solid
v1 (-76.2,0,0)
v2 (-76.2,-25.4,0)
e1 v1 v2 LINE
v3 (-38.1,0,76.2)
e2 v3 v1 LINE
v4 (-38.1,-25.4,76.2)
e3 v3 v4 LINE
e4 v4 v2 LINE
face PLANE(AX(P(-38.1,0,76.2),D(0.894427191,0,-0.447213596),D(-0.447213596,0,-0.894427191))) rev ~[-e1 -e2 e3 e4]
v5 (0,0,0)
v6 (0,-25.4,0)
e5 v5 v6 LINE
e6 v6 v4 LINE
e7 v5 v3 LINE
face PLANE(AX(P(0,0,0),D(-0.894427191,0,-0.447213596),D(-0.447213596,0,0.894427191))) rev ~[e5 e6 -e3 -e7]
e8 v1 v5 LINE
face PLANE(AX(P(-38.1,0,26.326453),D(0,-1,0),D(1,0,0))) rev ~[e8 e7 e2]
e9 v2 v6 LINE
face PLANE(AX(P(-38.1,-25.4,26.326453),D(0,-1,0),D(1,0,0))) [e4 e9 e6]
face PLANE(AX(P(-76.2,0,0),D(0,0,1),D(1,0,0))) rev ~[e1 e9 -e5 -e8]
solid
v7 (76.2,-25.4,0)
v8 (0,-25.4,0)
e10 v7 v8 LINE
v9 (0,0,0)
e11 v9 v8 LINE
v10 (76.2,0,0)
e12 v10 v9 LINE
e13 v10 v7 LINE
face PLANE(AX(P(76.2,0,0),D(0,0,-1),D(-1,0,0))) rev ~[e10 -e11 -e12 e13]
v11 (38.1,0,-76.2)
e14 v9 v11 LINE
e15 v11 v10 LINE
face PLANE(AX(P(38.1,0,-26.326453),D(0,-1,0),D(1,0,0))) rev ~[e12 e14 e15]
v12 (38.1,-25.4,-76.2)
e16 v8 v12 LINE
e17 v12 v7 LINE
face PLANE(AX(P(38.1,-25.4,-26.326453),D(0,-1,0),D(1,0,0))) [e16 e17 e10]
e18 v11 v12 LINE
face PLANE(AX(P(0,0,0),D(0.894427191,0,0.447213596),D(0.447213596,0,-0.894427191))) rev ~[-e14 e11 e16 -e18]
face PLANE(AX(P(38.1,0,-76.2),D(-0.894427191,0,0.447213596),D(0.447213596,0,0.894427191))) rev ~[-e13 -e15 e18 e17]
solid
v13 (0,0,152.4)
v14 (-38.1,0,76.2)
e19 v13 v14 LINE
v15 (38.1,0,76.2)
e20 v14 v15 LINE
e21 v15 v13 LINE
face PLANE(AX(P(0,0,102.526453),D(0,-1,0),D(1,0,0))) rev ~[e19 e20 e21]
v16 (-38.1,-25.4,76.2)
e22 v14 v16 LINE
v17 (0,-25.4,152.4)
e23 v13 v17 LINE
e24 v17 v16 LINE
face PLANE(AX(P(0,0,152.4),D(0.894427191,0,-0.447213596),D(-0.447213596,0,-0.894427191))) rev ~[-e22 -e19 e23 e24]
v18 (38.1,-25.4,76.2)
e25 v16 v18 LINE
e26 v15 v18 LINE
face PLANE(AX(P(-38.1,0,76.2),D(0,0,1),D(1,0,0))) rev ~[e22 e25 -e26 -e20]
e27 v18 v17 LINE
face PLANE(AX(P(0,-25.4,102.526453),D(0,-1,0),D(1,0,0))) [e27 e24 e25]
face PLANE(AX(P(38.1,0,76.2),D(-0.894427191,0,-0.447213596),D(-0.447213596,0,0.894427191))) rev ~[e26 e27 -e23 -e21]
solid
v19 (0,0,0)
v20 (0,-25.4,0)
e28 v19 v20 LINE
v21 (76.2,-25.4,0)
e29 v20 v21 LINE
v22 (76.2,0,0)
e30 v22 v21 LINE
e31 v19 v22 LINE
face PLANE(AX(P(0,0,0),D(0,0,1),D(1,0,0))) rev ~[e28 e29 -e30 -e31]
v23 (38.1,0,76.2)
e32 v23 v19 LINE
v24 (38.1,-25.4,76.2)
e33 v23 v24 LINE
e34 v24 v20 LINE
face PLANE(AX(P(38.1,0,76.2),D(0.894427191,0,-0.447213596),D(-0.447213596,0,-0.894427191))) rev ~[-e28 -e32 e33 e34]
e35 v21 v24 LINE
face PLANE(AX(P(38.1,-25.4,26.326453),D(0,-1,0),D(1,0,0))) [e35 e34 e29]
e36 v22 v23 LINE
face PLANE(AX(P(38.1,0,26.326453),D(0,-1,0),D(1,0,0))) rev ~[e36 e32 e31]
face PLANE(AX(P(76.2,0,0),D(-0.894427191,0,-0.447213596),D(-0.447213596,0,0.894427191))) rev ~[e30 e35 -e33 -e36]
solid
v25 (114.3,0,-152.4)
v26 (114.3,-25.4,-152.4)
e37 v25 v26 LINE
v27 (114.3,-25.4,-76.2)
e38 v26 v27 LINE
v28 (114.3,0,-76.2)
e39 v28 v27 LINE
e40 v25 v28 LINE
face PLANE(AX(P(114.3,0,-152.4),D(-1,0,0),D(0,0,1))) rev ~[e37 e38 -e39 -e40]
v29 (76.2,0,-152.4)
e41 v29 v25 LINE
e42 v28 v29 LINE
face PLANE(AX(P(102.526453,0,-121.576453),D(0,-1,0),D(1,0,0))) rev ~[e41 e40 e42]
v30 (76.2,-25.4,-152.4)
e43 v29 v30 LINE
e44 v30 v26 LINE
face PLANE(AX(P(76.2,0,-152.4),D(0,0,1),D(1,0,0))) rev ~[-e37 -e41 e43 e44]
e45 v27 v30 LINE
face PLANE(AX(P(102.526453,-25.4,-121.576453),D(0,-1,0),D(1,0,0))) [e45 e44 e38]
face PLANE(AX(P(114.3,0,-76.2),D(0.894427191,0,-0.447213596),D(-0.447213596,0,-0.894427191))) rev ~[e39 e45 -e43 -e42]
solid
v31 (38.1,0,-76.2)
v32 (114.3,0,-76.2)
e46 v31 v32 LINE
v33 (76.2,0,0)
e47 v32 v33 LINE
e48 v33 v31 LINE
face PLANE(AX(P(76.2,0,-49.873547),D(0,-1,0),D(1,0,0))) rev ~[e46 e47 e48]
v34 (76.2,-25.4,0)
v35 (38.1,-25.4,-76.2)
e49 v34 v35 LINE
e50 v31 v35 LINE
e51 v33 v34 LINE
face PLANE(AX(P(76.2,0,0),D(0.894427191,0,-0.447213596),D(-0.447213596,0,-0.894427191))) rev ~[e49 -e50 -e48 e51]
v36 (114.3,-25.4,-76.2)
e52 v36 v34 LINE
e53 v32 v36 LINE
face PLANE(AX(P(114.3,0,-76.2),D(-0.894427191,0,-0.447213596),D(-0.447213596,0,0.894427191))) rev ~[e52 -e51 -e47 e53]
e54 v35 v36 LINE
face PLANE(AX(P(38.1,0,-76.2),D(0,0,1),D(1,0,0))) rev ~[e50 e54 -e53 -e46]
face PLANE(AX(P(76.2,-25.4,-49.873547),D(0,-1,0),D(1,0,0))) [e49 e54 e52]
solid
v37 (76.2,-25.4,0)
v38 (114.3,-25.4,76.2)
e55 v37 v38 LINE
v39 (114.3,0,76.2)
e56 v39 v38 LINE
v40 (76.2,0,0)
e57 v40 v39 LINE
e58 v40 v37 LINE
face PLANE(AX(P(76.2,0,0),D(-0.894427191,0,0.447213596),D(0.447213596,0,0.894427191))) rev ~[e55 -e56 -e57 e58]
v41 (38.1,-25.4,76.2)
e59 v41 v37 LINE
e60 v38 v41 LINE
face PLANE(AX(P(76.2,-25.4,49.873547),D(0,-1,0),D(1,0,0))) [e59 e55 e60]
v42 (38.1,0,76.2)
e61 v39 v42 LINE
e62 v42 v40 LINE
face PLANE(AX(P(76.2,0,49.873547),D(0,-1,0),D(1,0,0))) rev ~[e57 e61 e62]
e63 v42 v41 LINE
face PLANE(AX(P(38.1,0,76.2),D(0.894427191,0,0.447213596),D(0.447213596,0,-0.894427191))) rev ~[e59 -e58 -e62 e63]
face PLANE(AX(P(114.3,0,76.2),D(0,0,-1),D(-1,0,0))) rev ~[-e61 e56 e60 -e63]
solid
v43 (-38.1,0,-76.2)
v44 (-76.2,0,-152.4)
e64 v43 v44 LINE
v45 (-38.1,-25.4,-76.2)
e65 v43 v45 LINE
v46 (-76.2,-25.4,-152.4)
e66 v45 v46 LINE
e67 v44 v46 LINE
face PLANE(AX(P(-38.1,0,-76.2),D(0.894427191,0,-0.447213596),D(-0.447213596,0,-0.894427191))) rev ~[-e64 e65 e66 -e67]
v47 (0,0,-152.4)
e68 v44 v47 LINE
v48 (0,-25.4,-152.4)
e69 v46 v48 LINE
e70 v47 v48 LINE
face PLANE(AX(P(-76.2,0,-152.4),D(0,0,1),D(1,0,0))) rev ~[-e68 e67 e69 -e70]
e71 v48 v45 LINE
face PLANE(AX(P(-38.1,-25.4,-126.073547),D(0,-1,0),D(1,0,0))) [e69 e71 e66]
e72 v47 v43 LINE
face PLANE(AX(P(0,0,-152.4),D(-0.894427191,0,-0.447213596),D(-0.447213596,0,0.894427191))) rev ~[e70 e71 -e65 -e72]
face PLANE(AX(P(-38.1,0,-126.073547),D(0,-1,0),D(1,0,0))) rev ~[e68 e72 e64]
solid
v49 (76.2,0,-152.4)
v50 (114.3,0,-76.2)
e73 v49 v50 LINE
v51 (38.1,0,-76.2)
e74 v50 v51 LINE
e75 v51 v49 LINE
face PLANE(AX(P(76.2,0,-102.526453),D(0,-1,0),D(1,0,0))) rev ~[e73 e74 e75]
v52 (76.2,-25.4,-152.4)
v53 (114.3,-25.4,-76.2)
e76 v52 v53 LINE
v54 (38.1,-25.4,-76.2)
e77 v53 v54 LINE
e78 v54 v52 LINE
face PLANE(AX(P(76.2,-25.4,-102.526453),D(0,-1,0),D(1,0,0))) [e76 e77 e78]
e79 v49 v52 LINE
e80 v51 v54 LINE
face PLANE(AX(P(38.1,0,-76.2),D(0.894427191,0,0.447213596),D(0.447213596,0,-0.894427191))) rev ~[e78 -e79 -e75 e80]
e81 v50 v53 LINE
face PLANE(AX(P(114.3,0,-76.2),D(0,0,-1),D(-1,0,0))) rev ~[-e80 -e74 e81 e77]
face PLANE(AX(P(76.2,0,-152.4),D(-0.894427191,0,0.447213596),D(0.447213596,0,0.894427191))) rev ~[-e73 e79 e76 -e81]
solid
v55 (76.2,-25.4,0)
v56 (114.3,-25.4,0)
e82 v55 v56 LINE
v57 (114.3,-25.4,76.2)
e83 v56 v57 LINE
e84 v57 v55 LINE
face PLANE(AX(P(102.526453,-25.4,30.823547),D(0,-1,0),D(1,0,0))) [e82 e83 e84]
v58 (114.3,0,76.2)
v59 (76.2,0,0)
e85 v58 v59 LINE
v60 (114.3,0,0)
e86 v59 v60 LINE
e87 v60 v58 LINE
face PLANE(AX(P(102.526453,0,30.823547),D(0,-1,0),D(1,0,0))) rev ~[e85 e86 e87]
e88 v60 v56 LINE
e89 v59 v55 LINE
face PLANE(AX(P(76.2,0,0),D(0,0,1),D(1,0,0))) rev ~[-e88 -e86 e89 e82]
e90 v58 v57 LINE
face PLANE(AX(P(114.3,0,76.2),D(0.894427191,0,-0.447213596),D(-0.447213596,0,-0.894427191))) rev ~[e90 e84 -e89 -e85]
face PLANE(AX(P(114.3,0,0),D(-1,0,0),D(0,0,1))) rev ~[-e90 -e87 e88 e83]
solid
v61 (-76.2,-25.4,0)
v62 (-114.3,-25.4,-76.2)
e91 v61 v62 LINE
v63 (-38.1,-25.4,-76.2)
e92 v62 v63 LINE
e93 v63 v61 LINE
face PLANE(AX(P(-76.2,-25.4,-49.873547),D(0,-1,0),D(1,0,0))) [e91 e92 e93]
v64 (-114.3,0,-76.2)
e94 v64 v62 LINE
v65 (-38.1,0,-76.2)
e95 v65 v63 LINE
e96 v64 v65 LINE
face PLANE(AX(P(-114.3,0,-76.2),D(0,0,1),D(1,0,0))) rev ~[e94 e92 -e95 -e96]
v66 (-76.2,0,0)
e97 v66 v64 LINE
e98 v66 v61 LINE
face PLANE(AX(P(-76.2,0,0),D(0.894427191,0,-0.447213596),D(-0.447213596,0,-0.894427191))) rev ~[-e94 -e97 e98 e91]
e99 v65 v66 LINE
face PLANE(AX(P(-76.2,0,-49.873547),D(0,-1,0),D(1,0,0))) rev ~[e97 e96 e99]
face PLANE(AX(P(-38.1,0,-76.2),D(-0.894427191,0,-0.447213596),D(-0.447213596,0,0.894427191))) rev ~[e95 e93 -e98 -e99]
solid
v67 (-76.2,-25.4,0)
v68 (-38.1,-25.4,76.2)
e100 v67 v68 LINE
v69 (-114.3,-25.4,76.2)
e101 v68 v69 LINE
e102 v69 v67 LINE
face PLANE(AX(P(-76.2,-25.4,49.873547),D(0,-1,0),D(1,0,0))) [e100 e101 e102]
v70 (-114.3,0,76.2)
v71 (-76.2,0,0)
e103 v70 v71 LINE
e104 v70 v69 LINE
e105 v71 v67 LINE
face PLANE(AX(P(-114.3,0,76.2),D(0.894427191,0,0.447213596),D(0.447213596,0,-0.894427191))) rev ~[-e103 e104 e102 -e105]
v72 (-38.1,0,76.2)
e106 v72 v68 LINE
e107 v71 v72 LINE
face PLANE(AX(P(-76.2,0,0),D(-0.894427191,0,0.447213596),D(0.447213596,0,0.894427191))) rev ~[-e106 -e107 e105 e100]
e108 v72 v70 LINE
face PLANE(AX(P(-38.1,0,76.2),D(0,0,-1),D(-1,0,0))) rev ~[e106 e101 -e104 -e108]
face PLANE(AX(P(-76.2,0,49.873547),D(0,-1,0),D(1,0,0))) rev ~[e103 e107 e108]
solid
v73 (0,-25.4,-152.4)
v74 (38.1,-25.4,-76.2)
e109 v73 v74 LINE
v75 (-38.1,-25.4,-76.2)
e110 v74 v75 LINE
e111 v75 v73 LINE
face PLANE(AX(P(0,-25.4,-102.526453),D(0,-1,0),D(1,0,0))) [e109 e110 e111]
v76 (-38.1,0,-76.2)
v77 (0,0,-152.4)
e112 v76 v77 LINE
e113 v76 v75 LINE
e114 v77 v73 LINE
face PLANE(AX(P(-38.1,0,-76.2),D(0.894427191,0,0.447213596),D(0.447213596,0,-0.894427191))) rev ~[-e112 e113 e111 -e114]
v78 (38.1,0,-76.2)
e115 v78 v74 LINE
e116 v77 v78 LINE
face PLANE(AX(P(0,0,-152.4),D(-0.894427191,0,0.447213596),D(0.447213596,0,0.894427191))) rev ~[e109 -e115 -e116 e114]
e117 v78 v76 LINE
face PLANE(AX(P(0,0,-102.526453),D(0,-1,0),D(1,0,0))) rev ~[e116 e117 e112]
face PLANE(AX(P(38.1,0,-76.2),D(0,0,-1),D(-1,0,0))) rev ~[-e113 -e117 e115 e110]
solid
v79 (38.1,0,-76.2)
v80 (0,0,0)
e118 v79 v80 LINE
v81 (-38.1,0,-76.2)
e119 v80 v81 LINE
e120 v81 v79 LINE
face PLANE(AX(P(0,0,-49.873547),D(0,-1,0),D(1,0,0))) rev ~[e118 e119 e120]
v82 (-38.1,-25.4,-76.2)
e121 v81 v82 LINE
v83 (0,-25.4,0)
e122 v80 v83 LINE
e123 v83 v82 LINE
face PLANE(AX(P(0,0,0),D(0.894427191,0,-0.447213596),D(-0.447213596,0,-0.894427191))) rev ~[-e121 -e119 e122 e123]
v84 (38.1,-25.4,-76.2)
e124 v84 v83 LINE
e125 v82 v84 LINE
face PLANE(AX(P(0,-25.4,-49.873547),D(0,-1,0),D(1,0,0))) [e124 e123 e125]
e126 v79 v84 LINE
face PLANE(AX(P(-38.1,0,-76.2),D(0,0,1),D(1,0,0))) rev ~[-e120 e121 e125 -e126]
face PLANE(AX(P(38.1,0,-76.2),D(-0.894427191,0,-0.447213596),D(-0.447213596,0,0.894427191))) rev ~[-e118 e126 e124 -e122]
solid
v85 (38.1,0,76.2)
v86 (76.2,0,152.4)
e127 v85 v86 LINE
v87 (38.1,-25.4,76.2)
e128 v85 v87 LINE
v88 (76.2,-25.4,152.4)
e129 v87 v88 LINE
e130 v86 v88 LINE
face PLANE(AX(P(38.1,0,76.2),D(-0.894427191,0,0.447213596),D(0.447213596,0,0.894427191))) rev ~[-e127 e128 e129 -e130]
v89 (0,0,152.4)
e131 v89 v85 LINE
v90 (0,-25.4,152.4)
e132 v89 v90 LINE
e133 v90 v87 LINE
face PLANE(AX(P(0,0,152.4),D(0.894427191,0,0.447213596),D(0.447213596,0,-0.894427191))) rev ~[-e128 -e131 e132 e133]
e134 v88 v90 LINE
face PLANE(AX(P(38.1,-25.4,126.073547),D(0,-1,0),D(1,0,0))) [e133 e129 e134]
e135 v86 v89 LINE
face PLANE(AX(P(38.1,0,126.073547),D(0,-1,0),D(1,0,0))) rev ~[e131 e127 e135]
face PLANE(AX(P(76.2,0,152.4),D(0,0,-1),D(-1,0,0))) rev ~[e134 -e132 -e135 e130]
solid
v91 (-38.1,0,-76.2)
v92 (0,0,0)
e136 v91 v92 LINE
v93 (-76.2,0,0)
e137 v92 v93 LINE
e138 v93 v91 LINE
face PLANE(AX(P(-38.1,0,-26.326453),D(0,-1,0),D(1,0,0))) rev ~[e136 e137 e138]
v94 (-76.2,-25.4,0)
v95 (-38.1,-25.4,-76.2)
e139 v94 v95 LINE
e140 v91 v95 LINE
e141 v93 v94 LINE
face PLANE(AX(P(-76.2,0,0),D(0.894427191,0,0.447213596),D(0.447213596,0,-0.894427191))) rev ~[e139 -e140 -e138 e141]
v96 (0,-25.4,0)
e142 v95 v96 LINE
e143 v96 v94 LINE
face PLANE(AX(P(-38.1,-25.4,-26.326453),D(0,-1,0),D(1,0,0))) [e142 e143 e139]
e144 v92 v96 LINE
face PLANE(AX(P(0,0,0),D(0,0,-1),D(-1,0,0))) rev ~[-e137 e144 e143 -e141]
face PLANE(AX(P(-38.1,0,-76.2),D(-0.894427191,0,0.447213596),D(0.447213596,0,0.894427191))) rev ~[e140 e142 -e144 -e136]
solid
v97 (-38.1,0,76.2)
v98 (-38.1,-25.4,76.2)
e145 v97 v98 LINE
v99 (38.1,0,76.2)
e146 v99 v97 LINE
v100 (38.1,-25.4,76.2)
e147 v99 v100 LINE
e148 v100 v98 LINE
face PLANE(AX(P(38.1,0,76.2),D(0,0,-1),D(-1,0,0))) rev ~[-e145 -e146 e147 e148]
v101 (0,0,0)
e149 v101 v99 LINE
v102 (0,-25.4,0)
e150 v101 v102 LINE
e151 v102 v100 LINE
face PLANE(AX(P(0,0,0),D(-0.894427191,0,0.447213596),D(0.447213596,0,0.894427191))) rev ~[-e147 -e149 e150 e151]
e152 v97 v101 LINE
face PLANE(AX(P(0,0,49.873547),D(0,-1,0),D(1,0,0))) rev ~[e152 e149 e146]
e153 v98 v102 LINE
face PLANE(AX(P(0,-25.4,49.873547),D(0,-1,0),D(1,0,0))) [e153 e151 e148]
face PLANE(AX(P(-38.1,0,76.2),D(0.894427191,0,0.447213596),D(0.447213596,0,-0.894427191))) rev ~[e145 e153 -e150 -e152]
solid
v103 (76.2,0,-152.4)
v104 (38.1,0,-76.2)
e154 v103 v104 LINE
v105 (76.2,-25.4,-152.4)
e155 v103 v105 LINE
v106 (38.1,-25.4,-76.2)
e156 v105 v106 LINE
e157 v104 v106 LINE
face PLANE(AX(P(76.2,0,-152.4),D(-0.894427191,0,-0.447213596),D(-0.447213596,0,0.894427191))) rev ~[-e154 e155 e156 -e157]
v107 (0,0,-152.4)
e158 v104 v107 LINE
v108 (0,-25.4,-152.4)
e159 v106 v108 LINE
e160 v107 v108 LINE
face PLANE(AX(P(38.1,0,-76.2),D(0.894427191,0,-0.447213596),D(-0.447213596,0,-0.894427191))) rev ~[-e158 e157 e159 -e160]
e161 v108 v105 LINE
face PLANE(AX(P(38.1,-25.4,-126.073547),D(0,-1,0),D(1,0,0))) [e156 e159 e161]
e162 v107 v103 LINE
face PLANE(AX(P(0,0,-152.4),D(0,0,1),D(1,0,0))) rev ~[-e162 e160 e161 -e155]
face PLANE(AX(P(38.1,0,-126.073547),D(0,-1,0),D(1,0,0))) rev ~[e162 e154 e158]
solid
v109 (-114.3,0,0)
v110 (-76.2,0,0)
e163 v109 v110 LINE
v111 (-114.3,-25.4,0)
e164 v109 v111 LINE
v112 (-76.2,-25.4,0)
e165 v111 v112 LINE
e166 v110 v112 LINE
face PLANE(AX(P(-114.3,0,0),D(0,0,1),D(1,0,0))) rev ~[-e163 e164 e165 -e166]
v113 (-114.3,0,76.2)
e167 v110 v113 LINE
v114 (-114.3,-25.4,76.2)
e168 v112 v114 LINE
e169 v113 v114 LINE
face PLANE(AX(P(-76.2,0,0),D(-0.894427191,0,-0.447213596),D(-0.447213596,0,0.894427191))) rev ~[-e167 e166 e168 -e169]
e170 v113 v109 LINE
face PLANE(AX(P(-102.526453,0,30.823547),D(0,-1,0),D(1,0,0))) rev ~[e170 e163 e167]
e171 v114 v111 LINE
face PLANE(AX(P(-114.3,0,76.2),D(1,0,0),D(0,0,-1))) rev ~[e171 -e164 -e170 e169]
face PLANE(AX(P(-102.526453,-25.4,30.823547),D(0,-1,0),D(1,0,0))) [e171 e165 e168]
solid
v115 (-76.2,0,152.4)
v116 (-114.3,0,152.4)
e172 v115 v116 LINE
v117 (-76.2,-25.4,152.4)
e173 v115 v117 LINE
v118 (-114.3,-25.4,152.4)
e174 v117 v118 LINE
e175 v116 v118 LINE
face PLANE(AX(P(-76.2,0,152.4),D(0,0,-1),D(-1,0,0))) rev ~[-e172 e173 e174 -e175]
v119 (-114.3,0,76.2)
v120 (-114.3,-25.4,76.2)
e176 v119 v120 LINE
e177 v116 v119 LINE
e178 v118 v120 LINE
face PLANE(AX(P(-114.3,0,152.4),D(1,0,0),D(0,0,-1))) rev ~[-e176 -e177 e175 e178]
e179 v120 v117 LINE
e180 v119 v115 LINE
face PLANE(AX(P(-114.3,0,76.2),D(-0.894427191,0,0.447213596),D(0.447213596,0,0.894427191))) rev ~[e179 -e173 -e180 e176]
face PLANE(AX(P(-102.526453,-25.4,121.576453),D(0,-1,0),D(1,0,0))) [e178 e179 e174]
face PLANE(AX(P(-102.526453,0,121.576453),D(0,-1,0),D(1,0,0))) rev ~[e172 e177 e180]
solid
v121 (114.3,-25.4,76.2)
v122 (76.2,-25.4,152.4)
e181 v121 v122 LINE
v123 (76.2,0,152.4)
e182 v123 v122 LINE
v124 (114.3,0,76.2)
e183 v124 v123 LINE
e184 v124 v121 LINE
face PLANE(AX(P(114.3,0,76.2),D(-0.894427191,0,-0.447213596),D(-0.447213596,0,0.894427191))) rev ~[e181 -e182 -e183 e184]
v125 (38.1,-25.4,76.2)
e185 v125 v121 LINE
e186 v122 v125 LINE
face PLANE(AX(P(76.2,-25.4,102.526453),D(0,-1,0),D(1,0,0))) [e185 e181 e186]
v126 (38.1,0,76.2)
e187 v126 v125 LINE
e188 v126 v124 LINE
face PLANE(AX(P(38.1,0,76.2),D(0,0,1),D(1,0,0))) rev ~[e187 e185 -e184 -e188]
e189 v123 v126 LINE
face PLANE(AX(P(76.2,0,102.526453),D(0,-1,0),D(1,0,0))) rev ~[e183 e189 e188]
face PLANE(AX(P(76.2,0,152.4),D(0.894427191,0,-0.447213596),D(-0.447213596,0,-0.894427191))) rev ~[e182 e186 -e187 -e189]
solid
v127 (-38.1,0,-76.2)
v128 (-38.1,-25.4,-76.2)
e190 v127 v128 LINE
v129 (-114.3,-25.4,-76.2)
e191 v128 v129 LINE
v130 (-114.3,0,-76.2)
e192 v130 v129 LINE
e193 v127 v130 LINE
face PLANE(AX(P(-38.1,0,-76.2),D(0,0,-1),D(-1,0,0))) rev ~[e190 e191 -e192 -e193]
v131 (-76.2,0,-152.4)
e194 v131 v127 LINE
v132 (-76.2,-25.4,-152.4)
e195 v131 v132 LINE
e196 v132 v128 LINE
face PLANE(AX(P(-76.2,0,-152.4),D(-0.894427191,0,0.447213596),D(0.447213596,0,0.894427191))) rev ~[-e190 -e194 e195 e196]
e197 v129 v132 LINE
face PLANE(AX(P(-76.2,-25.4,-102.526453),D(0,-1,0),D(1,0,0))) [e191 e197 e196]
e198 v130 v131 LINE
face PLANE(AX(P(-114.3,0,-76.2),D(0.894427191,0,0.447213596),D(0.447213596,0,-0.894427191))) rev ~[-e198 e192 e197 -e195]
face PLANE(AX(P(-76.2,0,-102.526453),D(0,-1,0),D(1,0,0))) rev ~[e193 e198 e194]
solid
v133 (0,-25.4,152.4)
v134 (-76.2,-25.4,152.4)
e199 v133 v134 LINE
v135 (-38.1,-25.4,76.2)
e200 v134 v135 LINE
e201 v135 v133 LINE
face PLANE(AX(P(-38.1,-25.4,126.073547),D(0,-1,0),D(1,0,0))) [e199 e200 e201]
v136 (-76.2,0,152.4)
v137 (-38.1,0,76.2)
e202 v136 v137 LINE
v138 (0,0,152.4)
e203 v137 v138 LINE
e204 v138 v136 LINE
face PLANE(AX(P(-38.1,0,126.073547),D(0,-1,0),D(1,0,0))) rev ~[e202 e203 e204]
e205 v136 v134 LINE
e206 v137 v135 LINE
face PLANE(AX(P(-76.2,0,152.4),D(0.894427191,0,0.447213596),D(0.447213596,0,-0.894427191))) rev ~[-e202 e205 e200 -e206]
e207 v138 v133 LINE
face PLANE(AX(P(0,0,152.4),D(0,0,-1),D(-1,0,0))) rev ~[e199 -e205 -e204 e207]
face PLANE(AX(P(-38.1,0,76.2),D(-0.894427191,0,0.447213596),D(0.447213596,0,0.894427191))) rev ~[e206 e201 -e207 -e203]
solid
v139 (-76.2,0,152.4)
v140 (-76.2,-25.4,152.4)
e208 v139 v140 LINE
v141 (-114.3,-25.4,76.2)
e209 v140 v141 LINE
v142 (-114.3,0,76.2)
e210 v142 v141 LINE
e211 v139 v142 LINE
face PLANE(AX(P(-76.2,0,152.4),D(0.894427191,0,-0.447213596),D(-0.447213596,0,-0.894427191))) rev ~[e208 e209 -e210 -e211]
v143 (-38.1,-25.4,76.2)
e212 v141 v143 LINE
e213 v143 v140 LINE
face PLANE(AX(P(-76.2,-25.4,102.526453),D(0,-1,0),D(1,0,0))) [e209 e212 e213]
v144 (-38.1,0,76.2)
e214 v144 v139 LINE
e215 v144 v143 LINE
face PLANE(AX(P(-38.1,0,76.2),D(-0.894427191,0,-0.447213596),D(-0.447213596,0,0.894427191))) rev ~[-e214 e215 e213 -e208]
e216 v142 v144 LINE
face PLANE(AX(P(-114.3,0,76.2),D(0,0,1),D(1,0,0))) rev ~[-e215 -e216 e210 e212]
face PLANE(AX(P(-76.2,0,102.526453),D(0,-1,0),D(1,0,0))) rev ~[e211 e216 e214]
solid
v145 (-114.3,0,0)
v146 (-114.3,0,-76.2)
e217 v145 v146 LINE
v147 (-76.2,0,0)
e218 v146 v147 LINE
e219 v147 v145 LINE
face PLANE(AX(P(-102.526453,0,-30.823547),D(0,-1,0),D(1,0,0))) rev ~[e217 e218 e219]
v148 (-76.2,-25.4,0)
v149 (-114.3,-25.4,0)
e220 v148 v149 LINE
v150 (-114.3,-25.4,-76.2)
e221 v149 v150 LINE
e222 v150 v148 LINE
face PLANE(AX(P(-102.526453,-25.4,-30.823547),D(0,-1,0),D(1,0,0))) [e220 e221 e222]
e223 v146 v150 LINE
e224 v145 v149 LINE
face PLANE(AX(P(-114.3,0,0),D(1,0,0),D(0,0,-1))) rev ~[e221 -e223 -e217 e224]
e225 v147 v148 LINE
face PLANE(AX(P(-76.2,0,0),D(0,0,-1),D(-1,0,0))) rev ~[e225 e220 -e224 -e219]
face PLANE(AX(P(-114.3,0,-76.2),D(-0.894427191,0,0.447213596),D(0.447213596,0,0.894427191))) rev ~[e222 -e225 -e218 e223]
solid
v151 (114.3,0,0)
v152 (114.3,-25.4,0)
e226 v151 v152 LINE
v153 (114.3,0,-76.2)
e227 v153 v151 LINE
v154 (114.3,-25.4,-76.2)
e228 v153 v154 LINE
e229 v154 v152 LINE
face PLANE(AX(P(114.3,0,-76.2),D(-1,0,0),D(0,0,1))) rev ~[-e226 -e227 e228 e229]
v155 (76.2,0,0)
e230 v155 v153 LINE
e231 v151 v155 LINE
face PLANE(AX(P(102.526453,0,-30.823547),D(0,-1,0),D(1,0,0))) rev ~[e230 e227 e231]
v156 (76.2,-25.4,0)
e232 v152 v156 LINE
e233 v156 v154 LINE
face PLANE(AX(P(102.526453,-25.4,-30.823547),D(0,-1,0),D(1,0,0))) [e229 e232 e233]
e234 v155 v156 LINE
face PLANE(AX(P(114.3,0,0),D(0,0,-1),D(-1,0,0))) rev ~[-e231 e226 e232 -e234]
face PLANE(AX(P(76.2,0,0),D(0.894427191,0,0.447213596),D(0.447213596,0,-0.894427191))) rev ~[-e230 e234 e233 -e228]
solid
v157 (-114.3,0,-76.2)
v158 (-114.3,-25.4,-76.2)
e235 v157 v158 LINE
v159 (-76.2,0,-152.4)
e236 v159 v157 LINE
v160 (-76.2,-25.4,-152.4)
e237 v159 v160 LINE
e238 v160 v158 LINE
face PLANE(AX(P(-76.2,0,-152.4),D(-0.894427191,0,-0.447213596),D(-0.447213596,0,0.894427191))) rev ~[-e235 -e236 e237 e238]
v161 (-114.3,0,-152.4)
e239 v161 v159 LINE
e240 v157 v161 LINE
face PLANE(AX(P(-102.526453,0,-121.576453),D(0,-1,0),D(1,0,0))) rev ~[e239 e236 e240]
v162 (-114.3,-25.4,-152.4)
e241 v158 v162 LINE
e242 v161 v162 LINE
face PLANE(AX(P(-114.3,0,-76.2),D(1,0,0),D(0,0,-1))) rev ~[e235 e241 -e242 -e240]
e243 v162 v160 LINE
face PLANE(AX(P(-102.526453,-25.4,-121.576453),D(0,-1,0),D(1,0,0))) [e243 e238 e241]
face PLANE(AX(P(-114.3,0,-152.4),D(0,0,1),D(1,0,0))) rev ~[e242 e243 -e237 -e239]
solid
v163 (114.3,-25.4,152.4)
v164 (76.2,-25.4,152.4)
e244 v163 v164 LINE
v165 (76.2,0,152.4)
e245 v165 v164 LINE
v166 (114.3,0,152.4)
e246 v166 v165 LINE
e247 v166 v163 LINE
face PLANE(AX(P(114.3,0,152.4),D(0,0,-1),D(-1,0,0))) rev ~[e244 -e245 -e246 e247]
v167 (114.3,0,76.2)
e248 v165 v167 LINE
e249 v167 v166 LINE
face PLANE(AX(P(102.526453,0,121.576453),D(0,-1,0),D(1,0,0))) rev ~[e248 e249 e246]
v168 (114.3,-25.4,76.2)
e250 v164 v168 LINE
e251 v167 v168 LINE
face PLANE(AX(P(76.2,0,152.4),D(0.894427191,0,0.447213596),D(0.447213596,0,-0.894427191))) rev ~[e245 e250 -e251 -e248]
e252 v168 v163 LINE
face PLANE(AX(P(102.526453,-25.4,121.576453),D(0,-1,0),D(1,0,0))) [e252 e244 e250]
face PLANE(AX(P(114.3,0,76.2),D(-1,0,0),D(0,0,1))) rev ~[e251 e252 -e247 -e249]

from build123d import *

# Parameters (mm, degrees)
F1_DEPTH = 25.4
F2_DEPTH = 25.4
F3_DEPTH = 25.4


with BuildPart() as f1:
    # F0 (on Front) → F1 (new body)
    with BuildSketch(Plane.XZ):
        Polygon((-76.2, 152.4), (-114.3, 152.4), (-114.3, 76.2), align=None)
        Polygon((0, 152.4), (-76.2, 152.4), (-38.1, 76.2), align=None)
        Polygon((76.2, 152.4), (0, 152.4), (38.1, 76.2), align=None)
        Polygon((114.3, 152.4), (76.2, 152.4), (114.3, 76.2), align=None)
        Polygon((114.3, 0), (114.3, 76.2), (76.2, 0), align=None)
        Polygon((76.2, 0), (38.1, 76.2), (0, 0), align=None)
        Polygon((0, 0), (-38.1, 76.2), (-76.2, 0), align=None)
        Polygon((-76.2, 0), (-114.3, 76.2), (-114.3, 0), align=None)
        Polygon((-38.1, -76.2), (-76.2, 0), (-114.3, -76.2), align=None)
        Polygon((38.1, -76.2), (0, 0), (-38.1, -76.2), align=None)
        Polygon((114.3, -76.2), (76.2, 0), (38.1, -76.2), align=None)
        Polygon((114.3, -152.4), (114.3, -76.2), (76.2, -152.4), align=None)
        Polygon((76.2, -152.4), (38.1, -76.2), (0, -152.4), align=None)
        Polygon((0, -152.4), (-38.1, -76.2), (-76.2, -152.4), align=None)
        Polygon((-76.2, -152.4), (-114.3, -76.2), (-114.3, -152.4), align=None)
    extrude(amount=F1_DEPTH)


with BuildPart() as f2:
    # F0 (on Front) → F2 (new body)
    with BuildSketch(Plane.XZ):
        Polygon((-38.1, 76.2), (-76.2, 152.4), (-114.3, 76.2), align=None)
        Polygon((38.1, 76.2), (0, 152.4), (-38.1, 76.2), align=None)
        Polygon((114.3, 76.2), (76.2, 152.4), (38.1, 76.2), align=None)
        Polygon((114.3, 0), (76.2, 0), (114.3, -76.2), align=None)
        Polygon((76.2, 0), (0, 0), (38.1, -76.2), align=None)
        Polygon((0, 0), (-76.2, 0), (-38.1, -76.2), align=None)
        Polygon((-76.2, 0), (-114.3, 0), (-114.3, -76.2), align=None)
        Polygon((-38.1, -76.2), (-114.3, -76.2), (-76.2, -152.4), align=None)
        Polygon((38.1, -76.2), (-38.1, -76.2), (0, -152.4), align=None)
        Polygon((114.3, -76.2), (38.1, -76.2), (76.2, -152.4), align=None)
    extrude(amount=F2_DEPTH)


with BuildPart() as f3:
    # F0 (on Front) → F3 (new body)
    with BuildSketch(Plane.XZ):
        Polygon((-38.1, 76.2), (-114.3, 76.2), (-76.2, 0), align=None)
        Polygon((38.1, 76.2), (-38.1, 76.2), (0, 0), align=None)
        Polygon((114.3, 76.2), (38.1, 76.2), (76.2, 0), align=None)
    extrude(amount=F3_DEPTH)


solid = Compound([f1.part, f2.part, f3.part])
